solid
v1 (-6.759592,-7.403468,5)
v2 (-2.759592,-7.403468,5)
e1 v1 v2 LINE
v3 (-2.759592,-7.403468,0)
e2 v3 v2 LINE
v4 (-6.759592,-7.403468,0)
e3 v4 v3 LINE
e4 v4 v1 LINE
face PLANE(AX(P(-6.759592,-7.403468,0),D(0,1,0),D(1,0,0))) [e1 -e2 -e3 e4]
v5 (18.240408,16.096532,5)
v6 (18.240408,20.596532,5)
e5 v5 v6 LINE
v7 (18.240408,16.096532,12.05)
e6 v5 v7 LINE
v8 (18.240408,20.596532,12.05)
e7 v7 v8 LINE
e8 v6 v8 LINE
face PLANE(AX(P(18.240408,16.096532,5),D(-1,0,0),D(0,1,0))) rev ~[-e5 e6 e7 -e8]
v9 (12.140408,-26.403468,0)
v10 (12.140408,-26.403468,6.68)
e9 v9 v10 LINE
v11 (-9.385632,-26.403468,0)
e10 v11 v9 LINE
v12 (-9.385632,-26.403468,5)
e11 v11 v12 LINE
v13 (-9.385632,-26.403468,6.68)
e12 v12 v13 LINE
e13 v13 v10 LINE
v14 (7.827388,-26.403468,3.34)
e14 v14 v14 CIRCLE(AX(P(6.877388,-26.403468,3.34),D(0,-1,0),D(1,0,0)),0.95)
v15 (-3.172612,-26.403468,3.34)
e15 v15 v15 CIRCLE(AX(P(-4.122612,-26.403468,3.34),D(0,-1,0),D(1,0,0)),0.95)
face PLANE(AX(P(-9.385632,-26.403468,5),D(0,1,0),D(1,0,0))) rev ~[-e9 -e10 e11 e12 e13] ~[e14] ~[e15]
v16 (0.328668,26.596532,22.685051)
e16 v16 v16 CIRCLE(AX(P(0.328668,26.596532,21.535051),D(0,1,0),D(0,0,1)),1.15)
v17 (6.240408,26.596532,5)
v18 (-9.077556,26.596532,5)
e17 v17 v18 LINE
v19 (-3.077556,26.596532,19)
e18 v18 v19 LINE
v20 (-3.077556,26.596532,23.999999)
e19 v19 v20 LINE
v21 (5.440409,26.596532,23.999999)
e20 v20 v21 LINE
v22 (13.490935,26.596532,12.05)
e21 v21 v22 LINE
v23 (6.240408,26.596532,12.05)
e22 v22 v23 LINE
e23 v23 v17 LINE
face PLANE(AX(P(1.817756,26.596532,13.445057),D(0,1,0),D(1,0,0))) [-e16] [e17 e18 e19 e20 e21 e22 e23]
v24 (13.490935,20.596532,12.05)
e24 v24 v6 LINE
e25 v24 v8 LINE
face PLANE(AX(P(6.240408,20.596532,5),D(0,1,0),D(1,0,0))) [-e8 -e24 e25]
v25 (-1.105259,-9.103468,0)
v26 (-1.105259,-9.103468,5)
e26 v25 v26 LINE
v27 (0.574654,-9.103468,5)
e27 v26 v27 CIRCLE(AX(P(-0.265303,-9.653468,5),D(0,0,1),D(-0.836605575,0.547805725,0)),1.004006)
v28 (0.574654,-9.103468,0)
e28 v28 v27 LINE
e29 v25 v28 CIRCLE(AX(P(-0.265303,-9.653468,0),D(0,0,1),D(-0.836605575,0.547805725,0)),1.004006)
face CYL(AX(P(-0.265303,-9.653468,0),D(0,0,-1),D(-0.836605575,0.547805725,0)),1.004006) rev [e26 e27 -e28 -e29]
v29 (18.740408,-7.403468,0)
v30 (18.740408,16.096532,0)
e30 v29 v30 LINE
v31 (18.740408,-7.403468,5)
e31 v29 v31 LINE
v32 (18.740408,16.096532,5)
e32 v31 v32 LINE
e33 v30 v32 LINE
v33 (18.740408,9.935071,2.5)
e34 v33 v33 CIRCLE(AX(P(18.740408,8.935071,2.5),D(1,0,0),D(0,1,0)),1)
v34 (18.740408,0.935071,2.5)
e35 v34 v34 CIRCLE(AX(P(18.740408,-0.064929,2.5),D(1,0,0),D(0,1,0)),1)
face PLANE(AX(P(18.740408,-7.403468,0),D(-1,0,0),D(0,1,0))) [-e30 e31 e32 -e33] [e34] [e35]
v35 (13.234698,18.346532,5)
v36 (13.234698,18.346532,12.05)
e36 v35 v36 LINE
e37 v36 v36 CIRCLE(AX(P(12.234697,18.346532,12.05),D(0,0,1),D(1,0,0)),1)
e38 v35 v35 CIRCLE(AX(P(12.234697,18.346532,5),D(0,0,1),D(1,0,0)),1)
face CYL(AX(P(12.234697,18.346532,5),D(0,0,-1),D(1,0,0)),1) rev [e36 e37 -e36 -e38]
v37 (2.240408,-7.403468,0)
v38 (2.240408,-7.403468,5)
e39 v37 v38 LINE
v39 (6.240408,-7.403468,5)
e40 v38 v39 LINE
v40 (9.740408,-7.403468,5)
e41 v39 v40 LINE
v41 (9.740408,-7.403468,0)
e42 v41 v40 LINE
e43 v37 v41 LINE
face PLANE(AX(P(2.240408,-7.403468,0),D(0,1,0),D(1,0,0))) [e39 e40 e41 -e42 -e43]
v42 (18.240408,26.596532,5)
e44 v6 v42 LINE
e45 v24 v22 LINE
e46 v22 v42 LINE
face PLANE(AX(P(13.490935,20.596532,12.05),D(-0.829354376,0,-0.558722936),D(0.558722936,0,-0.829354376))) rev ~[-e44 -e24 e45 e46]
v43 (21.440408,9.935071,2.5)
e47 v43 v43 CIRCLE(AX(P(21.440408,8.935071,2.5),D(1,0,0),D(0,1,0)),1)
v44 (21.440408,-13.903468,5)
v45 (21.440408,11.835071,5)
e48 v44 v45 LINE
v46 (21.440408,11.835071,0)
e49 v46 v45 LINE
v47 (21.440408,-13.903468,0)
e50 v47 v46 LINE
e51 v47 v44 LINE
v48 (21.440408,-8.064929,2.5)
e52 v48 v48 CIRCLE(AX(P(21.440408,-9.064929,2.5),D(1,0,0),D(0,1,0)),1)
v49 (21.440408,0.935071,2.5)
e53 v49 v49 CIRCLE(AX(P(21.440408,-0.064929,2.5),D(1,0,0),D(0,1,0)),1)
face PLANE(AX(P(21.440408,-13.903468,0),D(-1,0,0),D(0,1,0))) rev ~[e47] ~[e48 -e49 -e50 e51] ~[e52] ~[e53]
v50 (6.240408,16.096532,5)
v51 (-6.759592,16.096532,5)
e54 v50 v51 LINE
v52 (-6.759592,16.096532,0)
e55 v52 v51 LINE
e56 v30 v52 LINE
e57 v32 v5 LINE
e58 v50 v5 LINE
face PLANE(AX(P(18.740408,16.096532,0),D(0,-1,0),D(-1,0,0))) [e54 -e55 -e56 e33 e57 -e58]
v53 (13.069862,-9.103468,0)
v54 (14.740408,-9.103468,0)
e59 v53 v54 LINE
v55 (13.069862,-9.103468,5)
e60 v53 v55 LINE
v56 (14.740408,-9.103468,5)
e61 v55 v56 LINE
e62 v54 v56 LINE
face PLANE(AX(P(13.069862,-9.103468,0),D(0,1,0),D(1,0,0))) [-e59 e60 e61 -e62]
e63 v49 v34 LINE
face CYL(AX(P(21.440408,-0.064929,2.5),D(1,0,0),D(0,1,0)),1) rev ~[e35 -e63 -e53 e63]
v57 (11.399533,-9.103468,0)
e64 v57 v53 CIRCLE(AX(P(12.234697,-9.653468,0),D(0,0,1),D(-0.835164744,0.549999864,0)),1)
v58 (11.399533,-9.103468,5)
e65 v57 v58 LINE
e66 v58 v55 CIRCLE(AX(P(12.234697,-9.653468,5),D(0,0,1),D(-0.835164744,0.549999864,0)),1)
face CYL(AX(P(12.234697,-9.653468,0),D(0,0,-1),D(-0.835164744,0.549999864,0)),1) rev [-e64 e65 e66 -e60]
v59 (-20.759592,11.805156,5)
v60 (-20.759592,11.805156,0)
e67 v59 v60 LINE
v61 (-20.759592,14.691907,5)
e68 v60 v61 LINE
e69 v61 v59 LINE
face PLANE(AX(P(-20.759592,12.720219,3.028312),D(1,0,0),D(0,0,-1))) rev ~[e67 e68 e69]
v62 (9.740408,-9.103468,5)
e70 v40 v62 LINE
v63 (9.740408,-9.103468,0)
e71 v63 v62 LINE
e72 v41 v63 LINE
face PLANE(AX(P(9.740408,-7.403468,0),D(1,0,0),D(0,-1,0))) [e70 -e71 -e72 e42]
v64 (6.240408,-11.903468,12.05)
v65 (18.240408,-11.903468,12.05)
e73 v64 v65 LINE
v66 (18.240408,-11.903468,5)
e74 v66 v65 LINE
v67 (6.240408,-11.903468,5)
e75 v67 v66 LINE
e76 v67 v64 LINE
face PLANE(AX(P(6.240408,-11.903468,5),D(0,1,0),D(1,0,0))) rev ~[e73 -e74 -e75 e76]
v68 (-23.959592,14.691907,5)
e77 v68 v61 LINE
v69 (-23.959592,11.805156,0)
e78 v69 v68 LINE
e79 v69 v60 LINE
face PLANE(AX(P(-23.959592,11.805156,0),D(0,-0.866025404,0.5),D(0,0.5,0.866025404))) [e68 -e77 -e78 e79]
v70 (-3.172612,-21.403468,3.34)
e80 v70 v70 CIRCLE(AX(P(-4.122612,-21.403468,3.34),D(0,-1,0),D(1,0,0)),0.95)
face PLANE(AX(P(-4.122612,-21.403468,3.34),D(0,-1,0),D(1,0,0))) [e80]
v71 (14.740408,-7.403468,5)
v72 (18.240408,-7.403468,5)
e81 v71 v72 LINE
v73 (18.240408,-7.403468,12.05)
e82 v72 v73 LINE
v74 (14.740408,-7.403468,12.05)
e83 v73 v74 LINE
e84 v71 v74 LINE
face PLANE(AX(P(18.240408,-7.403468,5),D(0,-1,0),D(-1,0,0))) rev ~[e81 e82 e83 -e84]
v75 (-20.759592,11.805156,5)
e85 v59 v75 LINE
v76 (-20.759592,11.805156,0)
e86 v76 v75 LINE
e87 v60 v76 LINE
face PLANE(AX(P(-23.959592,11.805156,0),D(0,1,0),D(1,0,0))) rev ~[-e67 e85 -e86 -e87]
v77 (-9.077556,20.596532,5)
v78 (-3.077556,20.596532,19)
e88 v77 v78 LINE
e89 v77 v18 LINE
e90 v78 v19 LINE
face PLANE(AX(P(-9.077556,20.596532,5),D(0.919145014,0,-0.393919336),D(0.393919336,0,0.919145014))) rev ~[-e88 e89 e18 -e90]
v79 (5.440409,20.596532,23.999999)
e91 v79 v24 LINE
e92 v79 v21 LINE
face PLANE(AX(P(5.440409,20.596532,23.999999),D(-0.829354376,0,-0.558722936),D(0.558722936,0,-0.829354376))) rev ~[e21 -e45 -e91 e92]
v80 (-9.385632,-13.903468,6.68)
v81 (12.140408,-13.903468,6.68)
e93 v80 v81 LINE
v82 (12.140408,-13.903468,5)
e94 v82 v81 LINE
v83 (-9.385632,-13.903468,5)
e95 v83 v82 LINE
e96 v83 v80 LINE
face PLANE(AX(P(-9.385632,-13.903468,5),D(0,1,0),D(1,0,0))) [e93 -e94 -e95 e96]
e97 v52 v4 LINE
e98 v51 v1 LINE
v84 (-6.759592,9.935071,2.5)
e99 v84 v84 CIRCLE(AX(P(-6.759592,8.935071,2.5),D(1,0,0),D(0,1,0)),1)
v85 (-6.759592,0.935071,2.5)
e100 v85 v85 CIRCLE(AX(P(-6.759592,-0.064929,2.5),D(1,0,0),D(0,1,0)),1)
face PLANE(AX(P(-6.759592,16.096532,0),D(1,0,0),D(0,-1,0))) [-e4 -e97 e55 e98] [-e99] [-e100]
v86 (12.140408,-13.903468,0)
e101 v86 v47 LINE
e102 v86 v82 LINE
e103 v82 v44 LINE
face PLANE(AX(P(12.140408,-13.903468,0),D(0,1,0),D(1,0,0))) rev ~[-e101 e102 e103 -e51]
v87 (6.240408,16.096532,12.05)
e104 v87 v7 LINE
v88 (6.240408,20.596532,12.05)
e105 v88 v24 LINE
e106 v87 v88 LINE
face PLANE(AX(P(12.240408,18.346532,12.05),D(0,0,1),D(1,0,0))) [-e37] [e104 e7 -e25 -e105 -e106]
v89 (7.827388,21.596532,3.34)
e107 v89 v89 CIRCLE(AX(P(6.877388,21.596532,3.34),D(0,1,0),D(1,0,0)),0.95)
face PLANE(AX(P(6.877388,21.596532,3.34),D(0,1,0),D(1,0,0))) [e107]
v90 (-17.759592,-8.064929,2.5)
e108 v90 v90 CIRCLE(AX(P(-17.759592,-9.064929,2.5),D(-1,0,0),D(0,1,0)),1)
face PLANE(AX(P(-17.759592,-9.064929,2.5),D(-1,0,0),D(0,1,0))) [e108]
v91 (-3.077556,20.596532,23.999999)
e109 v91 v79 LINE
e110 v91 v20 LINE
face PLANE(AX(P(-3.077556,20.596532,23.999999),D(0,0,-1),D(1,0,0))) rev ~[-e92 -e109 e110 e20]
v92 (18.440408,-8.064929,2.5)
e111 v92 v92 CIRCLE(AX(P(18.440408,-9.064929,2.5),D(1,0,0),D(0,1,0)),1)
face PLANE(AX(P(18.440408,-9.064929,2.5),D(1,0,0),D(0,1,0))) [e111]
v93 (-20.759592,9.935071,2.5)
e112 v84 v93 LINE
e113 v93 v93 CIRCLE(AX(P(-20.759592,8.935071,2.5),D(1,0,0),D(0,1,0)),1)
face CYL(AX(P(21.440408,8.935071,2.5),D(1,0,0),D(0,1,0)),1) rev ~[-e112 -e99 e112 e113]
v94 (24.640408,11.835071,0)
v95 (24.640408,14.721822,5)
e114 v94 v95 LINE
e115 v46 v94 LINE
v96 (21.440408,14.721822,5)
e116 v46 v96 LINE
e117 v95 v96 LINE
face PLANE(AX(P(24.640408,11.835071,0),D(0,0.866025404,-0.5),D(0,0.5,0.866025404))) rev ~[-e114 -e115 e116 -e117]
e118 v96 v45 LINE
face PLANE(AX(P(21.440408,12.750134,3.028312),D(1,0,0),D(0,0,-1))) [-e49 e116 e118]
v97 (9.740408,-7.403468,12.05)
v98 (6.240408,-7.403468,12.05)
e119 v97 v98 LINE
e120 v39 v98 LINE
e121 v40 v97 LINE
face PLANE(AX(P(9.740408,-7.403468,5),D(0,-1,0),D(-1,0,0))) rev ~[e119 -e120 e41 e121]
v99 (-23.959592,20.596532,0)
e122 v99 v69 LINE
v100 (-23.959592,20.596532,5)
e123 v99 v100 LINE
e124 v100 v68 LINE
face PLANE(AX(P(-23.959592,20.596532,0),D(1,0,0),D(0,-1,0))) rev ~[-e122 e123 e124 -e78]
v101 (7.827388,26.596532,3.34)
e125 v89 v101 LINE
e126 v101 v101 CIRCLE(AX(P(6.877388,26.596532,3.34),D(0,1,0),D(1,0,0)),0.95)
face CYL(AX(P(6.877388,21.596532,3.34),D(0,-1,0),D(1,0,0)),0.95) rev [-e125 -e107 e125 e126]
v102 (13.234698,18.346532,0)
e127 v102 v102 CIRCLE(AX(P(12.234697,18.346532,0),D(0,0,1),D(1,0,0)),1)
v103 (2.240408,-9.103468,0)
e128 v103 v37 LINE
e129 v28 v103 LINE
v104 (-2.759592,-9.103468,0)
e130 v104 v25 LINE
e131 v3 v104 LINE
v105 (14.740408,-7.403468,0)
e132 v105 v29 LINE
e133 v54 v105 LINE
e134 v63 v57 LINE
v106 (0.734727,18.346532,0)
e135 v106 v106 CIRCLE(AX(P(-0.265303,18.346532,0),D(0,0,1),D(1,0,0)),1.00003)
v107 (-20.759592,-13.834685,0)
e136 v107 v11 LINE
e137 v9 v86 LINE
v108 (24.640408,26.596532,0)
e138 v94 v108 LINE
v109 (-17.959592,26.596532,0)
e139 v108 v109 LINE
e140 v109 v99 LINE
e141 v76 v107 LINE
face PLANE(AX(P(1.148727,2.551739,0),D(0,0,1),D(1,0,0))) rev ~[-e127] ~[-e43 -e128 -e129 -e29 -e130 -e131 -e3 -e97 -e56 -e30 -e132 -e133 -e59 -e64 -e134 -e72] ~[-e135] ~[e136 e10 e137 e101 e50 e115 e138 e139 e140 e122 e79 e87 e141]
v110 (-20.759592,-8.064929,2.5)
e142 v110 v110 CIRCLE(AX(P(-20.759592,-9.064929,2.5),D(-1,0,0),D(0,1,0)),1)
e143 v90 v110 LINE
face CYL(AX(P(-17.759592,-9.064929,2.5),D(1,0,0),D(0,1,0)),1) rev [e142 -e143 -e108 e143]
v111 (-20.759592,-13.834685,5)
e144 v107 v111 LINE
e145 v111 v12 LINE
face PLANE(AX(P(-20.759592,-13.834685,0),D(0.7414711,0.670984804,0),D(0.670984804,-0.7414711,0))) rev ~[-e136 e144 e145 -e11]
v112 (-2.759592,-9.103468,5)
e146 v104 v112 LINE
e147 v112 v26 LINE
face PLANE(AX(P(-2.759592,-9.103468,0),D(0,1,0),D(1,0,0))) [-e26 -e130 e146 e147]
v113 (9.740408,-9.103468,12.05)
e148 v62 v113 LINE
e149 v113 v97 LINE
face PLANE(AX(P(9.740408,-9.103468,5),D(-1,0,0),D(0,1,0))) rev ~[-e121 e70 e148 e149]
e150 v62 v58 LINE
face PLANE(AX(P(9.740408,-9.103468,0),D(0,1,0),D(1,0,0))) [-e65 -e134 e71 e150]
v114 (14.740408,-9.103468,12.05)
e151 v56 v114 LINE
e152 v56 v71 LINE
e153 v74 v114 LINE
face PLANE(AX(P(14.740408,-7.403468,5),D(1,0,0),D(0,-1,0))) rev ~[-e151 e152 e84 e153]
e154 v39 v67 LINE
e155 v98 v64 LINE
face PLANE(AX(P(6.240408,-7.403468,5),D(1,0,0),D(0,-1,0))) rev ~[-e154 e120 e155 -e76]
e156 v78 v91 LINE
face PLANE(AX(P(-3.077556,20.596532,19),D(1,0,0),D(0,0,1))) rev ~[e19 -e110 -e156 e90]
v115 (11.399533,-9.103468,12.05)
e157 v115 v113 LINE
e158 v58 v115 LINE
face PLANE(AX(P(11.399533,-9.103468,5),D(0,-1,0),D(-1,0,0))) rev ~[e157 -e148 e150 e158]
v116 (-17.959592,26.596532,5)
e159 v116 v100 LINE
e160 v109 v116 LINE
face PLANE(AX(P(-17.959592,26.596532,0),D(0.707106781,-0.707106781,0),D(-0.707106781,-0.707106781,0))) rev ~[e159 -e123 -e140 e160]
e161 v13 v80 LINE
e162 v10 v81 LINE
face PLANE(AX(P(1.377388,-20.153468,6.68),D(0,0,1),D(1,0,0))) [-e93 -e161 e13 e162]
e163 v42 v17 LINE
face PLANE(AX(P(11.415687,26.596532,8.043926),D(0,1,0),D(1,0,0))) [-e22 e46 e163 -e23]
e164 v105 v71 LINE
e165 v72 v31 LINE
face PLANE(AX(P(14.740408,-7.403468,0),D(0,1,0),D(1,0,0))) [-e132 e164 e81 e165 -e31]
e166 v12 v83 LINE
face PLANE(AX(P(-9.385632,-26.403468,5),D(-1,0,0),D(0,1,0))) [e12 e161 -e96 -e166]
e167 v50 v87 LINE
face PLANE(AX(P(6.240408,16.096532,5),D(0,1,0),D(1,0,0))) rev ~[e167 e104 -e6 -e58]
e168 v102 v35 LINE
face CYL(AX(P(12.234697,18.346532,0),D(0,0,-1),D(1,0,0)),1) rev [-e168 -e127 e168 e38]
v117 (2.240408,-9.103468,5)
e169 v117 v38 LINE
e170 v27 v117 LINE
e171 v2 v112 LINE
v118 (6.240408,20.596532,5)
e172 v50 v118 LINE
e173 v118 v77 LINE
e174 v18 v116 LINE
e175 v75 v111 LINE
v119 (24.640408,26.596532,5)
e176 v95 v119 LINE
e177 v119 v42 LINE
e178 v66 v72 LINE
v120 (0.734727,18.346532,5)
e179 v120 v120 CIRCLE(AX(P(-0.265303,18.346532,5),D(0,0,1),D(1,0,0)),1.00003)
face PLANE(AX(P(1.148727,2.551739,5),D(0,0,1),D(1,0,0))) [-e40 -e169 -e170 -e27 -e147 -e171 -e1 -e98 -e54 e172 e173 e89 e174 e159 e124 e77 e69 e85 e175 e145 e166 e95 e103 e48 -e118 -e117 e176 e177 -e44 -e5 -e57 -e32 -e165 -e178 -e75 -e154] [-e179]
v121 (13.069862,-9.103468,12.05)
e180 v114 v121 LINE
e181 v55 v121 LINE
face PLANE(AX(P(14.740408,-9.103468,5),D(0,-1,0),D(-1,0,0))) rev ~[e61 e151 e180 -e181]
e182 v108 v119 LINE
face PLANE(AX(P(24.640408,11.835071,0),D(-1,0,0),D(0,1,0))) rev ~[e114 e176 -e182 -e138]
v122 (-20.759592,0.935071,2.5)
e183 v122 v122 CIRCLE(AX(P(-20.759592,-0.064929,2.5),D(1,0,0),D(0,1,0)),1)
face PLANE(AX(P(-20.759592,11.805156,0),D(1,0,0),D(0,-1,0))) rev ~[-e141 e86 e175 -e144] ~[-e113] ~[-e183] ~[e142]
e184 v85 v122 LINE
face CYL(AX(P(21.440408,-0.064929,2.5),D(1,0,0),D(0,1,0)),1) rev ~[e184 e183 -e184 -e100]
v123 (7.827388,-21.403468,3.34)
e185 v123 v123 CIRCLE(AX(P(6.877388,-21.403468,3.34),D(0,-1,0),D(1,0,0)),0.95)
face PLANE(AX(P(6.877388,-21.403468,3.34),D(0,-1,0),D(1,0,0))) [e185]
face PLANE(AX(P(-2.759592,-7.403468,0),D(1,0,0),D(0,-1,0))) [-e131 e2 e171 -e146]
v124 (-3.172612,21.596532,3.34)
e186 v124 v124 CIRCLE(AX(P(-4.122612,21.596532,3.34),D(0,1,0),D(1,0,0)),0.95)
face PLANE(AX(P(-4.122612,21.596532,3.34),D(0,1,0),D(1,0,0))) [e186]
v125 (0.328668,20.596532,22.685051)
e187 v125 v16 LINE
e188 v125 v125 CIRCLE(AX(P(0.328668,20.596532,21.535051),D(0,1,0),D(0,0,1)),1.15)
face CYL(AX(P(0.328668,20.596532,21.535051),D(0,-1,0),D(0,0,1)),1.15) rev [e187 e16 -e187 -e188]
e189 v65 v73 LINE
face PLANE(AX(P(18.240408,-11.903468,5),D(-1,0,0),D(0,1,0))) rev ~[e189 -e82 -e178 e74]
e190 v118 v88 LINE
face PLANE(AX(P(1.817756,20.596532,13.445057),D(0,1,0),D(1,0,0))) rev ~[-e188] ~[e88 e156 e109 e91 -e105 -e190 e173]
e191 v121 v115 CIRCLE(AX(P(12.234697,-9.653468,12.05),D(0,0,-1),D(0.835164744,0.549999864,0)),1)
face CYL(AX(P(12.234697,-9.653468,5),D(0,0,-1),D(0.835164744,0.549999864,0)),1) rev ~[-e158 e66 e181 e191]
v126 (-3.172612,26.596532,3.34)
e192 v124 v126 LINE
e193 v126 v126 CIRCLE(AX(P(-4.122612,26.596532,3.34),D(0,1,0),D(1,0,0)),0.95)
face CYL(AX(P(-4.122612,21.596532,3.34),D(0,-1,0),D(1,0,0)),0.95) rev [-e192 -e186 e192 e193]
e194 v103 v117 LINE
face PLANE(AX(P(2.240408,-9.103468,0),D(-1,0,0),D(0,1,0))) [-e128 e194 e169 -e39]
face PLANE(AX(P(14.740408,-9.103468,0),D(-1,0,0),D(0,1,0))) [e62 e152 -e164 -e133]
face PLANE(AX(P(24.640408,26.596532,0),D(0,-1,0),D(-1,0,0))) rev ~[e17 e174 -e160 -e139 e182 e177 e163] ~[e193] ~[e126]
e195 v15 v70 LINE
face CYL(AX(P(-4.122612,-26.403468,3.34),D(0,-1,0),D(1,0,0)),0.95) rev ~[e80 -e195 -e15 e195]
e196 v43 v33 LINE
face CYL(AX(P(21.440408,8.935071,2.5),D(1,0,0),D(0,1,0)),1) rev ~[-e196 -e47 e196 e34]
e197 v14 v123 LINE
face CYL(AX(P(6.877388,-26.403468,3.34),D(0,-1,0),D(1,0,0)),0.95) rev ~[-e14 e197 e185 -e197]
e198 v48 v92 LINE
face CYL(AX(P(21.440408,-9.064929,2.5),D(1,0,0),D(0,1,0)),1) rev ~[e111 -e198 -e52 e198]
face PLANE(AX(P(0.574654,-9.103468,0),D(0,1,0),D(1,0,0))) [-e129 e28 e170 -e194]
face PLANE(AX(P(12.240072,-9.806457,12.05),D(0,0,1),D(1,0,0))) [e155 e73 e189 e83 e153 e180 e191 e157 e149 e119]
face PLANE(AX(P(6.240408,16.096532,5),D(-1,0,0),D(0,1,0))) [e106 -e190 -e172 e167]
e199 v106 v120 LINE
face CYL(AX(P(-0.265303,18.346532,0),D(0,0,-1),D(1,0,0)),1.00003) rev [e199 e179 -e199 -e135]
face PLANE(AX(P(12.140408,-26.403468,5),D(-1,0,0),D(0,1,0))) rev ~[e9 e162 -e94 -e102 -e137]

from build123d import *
from build123d.topology import SkipClean

# Parameters (mm, degrees)
SKETCH_1_R          = 1.000029699
SKETCH_1_R_2        = 1.000000092
EXTRUDE_1_DEPTH     = 5
SKETCH_2_W          = 21.526040124
SKETCH_2_H          = 12.5
EXTRUDE_2_DEPTH     = 1.68
SKETCH_3_R          = 0.95
CUT_EXTRUDE_1_DEPTH = 5
SKETCH_4_W          = 12
SKETCH_4_H          = 4.5
SKETCH_4_R          = 1.000000092
EXTRUDE_3_DEPTH     = 7.05
SKETCH_5_R          = 1.149999977
EXTRUDE_4_DEPTH     = 6
CUT_EXTRUDE_START   = -5
SKETCH_6_R          = 0.95
CUT_EXTRUDE_2_DEPTH = 5
SKETCH_7_R          = 1
CUT_EXTRUDE_3_DEPTH = 100
SKETCH_8_R          = 1
CUT_EXTRUDE_4_DEPTH = 3
CUT_EXTRUDE_START_2 = -3
SKETCH_9_R          = 1
CUT_EXTRUDE_5_DEPTH = 3
CUT_EXTRUDE_6_DEPTH = 3.2
CUT_EXTRUDE_7_DEPTH = 3.2


with BuildPart() as part:
    # 草图1 → 凸台-拉伸1 (new body)
    with BuildSketch(Plane.XY):
        Polygon((21.440408464, 11.835070794), (24.640408464, 11.835070794), (24.640408464, 26.596532095), (-17.959592209, 26.596532095), (-23.959592393, 20.596531911), (-23.959592393, 11.805155949), (-20.759591536, 11.805155949), (-20.759591536, -13.834684697), (-9.38563166, -26.403467905), (12.140408464, -26.403467905), (12.140408464, -13.903467905), (21.440408464, -13.903467905), align=None)
        with Locations((-0.265302528, 18.346532095)):
            Circle(SKETCH_1_R, mode=Mode.SUBTRACT)
        with Locations((12.234697472, 18.346532095)):
            Circle(SKETCH_1_R_2, mode=Mode.SUBTRACT)
        with BuildLine():
            ThreePointArc((11.399532521, -9.103467905), (12.234697472, -10.653468153), (13.069862423, -9.103467905))
            Line((13.069862423, -9.103467905), (14.740408464, -9.103467905))
            Line((14.740408464, -9.103467905), (14.740408464, -7.403467905))
            Line((14.740408464, -7.403467905), (18.740408464, -7.403467905))
            Line((18.740408464, -7.403467905), (18.740408464, 16.096532095))
            Line((18.740408464, 16.096532095), (-6.759591536, 16.096532095))
            Line((-6.759591536, 16.096532095), (-6.759591536, -7.403467905))
            Line((-6.759591536, -7.403467905), (-2.759591536, -7.403467905))
            Line((-2.759591536, -7.403467905), (-2.759591536, -9.103467905))
            Line((-2.759591536, -9.103467905), (-1.105259185, -9.103467905))
            ThreePointArc((-1.105259185, -9.103467905), (-0.265302528, -10.657473475), (0.574654129, -9.103467905))
            Line((0.574654129, -9.103467905), (2.240408464, -9.103467905))
            Line((2.240408464, -9.103467905), (2.240408464, -7.403467905))
            Line((2.240408464, -7.403467905), (9.740408464, -7.403467905))
            Line((9.740408464, -7.403467905), (9.740408464, -9.103467905))
            Line((9.740408464, -9.103467905), (11.399532521, -9.103467905))
        make_face(mode=Mode.SUBTRACT)
    extrude(amount=EXTRUDE_1_DEPTH)

    # 草图2 → 凸台-拉伸2 (add)
    with BuildSketch(Plane.XY.offset(5)):
        with Locations((1.377388402, -20.153467905)):
            Rectangle(SKETCH_2_W, SKETCH_2_H)
    extrude(amount=EXTRUDE_2_DEPTH)

    # 草图3 → 切除-拉伸1 (cut)
    with BuildSketch(Plane.XZ.offset(26.403467905)):
        with Locations((-4.122611598, 3.34)):
            Circle(SKETCH_3_R)
        with Locations((6.877388402, 3.34)):
            Circle(SKETCH_3_R)
    extrude(amount=-CUT_EXTRUDE_1_DEPTH, mode=Mode.SUBTRACT)

    # 草图4 → 凸台-拉伸3 (add)
    # profile 1 of 2: a face of its own
    with SkipClean():  # the faces are left unmerged after this step: merging them gives an invalid solid
        with BuildSketch(Plane.XY.offset(5)):
            with BuildLine():
                Line((6.240408464, -7.403467905), (6.240408464, -11.903467905))
                Line((6.240408464, -11.903467905), (18.240408464, -11.903467905))
                Line((18.240408464, -11.903467905), (18.240408464, -7.403467905))
                Line((18.240408464, -7.403467905), (14.740408464, -7.403467905))
                Line((14.740408464, -7.403467905), (14.740408464, -9.103467905))
                Line((14.740408464, -9.103467905), (13.069862423, -9.103467905))
                ThreePointArc((13.069862423, -9.103467905), (12.234697472, -10.653468153), (11.399532521, -9.103467905))
                Line((11.399532521, -9.103467905), (9.740408464, -9.103467905))
                Line((9.740408464, -9.103467905), (9.740408464, -7.403467905))
                Line((9.740408464, -7.403467905), (6.240408464, -7.403467905))
            make_face()
        # profile 2 of 2: a face of its own
        with BuildSketch(Plane.XY.offset(5)):
            with Locations((12.240408464, 18.346532095)):
                Rectangle(SKETCH_4_W, SKETCH_4_H)
            with Locations((12.234697472, 18.346532095)):
                Circle(SKETCH_4_R, mode=Mode.SUBTRACT)
        extrude(amount=EXTRUDE_3_DEPTH)

    # 草图5 → 凸台-拉伸4 (add)
    # profile 1 of 2: a face of its own
    with SkipClean():  # the faces are left unmerged after this step: merging them gives an invalid solid
        with BuildSketch(Plane(origin=(0, 20.596532095, 0), x_dir=(1, 0, 0), z_dir=(0, 1, 0))):
            Polygon((-9.07755609, -5), (-3.077555613, -18.999999523), (-3.077555613, -23.999999285), (5.440409227, -23.999999285), (13.490934884, -12.05), (6.240408464, -12.05), (6.240408464, -5), align=None)
            with Locations(Location((0.328667587, -21.535050638, 0), (0, 0, 270))):
                Circle(SKETCH_5_R, mode=Mode.SUBTRACT)
        # profile 2 of 2: a face of its own
        with BuildSketch(Plane(origin=(0, 20.596532095, 0), x_dir=(1, 0, 0), z_dir=(0, 1, 0))):
            Polygon((18.240408464, -5), (6.240408464, -5), (6.240408464, -12.05), (13.490934884, -12.05), align=None)
        extrude(amount=EXTRUDE_4_DEPTH)

    # 草图6 → 切除-拉伸2 (cut)
    with SkipClean():  # the faces are left unmerged after this step: merging them gives an invalid solid
        with BuildSketch(Plane(origin=(0, 26.596532095, 0), x_dir=(1, 0, 0), z_dir=(0, 1, 0)).offset(CUT_EXTRUDE_START)):
            with Locations((-4.122611598, -3.34)):
                Circle(SKETCH_6_R)
            with Locations((6.877388402, -3.34)):
                Circle(SKETCH_6_R)
        extrude(amount=CUT_EXTRUDE_2_DEPTH, mode=Mode.SUBTRACT)

    # 草图7 → 切除-拉伸3 (cut)
    with SkipClean():  # the faces are left unmerged after this step: merging them gives an invalid solid
        with BuildSketch(Plane(origin=(21.440408464, 0, 0), x_dir=(0, 0, -1), z_dir=(1, 0, 0))):
            with Locations(Location((-2.5, 8.935070794, 0), (0, 0, 90))):
                Circle(SKETCH_7_R)
            with Locations(Location((-2.5, -0.064929206, 0), (0, 0, 90))):
                Circle(SKETCH_7_R)
        extrude(amount=-CUT_EXTRUDE_3_DEPTH, mode=Mode.SUBTRACT)

    # 草图8 → 切除-拉伸4 (cut)
    with SkipClean():  # the faces are left unmerged after this step: merging them gives an invalid solid
        with BuildSketch(Plane(origin=(21.440408464, 0, 0), x_dir=(0, 0, -1), z_dir=(1, 0, 0))):
            with Locations(Location((-2.5, -9.064929206, 0), (0, 0, 90))):
                Circle(SKETCH_8_R)
        extrude(amount=-CUT_EXTRUDE_4_DEPTH, mode=Mode.SUBTRACT)

    # 草图9 → 切除-拉伸5 (cut)
    with SkipClean():  # the faces are left unmerged after this step: merging them gives an invalid solid
        with BuildSketch(Plane.ZY.offset(20.759591536).offset(CUT_EXTRUDE_START_2)):
            with Locations(Location((2.5, -9.064929206, 0), (0, 0, 90))):
                Circle(SKETCH_9_R)
        extrude(amount=CUT_EXTRUDE_5_DEPTH, mode=Mode.SUBTRACT)

    # 草图10 → 切除-拉伸6 (cut)
    with SkipClean():  # the faces are left unmerged after this step: merging them gives an invalid solid
        with BuildSketch(Plane.ZY.offset(23.959592393)):
            Polygon((5, 11.805155949), (0, 11.805155949), (5, 14.691907295), align=None)
        extrude(amount=-CUT_EXTRUDE_6_DEPTH, mode=Mode.SUBTRACT)

    # 草图11 → 切除-拉伸7 (cut)
    with SkipClean():  # the faces are left unmerged after this step: merging them gives an invalid solid
        with BuildSketch(Plane(origin=(24.640408464, 0, 0), x_dir=(0, 0, -1), z_dir=(1, 0, 0))):
            Polygon((0, 11.835070794), (-5, 14.72182214), (-5, 11.835070794), align=None)
        extrude(amount=-CUT_EXTRUDE_7_DEPTH, mode=Mode.SUBTRACT)


solid = part.part
